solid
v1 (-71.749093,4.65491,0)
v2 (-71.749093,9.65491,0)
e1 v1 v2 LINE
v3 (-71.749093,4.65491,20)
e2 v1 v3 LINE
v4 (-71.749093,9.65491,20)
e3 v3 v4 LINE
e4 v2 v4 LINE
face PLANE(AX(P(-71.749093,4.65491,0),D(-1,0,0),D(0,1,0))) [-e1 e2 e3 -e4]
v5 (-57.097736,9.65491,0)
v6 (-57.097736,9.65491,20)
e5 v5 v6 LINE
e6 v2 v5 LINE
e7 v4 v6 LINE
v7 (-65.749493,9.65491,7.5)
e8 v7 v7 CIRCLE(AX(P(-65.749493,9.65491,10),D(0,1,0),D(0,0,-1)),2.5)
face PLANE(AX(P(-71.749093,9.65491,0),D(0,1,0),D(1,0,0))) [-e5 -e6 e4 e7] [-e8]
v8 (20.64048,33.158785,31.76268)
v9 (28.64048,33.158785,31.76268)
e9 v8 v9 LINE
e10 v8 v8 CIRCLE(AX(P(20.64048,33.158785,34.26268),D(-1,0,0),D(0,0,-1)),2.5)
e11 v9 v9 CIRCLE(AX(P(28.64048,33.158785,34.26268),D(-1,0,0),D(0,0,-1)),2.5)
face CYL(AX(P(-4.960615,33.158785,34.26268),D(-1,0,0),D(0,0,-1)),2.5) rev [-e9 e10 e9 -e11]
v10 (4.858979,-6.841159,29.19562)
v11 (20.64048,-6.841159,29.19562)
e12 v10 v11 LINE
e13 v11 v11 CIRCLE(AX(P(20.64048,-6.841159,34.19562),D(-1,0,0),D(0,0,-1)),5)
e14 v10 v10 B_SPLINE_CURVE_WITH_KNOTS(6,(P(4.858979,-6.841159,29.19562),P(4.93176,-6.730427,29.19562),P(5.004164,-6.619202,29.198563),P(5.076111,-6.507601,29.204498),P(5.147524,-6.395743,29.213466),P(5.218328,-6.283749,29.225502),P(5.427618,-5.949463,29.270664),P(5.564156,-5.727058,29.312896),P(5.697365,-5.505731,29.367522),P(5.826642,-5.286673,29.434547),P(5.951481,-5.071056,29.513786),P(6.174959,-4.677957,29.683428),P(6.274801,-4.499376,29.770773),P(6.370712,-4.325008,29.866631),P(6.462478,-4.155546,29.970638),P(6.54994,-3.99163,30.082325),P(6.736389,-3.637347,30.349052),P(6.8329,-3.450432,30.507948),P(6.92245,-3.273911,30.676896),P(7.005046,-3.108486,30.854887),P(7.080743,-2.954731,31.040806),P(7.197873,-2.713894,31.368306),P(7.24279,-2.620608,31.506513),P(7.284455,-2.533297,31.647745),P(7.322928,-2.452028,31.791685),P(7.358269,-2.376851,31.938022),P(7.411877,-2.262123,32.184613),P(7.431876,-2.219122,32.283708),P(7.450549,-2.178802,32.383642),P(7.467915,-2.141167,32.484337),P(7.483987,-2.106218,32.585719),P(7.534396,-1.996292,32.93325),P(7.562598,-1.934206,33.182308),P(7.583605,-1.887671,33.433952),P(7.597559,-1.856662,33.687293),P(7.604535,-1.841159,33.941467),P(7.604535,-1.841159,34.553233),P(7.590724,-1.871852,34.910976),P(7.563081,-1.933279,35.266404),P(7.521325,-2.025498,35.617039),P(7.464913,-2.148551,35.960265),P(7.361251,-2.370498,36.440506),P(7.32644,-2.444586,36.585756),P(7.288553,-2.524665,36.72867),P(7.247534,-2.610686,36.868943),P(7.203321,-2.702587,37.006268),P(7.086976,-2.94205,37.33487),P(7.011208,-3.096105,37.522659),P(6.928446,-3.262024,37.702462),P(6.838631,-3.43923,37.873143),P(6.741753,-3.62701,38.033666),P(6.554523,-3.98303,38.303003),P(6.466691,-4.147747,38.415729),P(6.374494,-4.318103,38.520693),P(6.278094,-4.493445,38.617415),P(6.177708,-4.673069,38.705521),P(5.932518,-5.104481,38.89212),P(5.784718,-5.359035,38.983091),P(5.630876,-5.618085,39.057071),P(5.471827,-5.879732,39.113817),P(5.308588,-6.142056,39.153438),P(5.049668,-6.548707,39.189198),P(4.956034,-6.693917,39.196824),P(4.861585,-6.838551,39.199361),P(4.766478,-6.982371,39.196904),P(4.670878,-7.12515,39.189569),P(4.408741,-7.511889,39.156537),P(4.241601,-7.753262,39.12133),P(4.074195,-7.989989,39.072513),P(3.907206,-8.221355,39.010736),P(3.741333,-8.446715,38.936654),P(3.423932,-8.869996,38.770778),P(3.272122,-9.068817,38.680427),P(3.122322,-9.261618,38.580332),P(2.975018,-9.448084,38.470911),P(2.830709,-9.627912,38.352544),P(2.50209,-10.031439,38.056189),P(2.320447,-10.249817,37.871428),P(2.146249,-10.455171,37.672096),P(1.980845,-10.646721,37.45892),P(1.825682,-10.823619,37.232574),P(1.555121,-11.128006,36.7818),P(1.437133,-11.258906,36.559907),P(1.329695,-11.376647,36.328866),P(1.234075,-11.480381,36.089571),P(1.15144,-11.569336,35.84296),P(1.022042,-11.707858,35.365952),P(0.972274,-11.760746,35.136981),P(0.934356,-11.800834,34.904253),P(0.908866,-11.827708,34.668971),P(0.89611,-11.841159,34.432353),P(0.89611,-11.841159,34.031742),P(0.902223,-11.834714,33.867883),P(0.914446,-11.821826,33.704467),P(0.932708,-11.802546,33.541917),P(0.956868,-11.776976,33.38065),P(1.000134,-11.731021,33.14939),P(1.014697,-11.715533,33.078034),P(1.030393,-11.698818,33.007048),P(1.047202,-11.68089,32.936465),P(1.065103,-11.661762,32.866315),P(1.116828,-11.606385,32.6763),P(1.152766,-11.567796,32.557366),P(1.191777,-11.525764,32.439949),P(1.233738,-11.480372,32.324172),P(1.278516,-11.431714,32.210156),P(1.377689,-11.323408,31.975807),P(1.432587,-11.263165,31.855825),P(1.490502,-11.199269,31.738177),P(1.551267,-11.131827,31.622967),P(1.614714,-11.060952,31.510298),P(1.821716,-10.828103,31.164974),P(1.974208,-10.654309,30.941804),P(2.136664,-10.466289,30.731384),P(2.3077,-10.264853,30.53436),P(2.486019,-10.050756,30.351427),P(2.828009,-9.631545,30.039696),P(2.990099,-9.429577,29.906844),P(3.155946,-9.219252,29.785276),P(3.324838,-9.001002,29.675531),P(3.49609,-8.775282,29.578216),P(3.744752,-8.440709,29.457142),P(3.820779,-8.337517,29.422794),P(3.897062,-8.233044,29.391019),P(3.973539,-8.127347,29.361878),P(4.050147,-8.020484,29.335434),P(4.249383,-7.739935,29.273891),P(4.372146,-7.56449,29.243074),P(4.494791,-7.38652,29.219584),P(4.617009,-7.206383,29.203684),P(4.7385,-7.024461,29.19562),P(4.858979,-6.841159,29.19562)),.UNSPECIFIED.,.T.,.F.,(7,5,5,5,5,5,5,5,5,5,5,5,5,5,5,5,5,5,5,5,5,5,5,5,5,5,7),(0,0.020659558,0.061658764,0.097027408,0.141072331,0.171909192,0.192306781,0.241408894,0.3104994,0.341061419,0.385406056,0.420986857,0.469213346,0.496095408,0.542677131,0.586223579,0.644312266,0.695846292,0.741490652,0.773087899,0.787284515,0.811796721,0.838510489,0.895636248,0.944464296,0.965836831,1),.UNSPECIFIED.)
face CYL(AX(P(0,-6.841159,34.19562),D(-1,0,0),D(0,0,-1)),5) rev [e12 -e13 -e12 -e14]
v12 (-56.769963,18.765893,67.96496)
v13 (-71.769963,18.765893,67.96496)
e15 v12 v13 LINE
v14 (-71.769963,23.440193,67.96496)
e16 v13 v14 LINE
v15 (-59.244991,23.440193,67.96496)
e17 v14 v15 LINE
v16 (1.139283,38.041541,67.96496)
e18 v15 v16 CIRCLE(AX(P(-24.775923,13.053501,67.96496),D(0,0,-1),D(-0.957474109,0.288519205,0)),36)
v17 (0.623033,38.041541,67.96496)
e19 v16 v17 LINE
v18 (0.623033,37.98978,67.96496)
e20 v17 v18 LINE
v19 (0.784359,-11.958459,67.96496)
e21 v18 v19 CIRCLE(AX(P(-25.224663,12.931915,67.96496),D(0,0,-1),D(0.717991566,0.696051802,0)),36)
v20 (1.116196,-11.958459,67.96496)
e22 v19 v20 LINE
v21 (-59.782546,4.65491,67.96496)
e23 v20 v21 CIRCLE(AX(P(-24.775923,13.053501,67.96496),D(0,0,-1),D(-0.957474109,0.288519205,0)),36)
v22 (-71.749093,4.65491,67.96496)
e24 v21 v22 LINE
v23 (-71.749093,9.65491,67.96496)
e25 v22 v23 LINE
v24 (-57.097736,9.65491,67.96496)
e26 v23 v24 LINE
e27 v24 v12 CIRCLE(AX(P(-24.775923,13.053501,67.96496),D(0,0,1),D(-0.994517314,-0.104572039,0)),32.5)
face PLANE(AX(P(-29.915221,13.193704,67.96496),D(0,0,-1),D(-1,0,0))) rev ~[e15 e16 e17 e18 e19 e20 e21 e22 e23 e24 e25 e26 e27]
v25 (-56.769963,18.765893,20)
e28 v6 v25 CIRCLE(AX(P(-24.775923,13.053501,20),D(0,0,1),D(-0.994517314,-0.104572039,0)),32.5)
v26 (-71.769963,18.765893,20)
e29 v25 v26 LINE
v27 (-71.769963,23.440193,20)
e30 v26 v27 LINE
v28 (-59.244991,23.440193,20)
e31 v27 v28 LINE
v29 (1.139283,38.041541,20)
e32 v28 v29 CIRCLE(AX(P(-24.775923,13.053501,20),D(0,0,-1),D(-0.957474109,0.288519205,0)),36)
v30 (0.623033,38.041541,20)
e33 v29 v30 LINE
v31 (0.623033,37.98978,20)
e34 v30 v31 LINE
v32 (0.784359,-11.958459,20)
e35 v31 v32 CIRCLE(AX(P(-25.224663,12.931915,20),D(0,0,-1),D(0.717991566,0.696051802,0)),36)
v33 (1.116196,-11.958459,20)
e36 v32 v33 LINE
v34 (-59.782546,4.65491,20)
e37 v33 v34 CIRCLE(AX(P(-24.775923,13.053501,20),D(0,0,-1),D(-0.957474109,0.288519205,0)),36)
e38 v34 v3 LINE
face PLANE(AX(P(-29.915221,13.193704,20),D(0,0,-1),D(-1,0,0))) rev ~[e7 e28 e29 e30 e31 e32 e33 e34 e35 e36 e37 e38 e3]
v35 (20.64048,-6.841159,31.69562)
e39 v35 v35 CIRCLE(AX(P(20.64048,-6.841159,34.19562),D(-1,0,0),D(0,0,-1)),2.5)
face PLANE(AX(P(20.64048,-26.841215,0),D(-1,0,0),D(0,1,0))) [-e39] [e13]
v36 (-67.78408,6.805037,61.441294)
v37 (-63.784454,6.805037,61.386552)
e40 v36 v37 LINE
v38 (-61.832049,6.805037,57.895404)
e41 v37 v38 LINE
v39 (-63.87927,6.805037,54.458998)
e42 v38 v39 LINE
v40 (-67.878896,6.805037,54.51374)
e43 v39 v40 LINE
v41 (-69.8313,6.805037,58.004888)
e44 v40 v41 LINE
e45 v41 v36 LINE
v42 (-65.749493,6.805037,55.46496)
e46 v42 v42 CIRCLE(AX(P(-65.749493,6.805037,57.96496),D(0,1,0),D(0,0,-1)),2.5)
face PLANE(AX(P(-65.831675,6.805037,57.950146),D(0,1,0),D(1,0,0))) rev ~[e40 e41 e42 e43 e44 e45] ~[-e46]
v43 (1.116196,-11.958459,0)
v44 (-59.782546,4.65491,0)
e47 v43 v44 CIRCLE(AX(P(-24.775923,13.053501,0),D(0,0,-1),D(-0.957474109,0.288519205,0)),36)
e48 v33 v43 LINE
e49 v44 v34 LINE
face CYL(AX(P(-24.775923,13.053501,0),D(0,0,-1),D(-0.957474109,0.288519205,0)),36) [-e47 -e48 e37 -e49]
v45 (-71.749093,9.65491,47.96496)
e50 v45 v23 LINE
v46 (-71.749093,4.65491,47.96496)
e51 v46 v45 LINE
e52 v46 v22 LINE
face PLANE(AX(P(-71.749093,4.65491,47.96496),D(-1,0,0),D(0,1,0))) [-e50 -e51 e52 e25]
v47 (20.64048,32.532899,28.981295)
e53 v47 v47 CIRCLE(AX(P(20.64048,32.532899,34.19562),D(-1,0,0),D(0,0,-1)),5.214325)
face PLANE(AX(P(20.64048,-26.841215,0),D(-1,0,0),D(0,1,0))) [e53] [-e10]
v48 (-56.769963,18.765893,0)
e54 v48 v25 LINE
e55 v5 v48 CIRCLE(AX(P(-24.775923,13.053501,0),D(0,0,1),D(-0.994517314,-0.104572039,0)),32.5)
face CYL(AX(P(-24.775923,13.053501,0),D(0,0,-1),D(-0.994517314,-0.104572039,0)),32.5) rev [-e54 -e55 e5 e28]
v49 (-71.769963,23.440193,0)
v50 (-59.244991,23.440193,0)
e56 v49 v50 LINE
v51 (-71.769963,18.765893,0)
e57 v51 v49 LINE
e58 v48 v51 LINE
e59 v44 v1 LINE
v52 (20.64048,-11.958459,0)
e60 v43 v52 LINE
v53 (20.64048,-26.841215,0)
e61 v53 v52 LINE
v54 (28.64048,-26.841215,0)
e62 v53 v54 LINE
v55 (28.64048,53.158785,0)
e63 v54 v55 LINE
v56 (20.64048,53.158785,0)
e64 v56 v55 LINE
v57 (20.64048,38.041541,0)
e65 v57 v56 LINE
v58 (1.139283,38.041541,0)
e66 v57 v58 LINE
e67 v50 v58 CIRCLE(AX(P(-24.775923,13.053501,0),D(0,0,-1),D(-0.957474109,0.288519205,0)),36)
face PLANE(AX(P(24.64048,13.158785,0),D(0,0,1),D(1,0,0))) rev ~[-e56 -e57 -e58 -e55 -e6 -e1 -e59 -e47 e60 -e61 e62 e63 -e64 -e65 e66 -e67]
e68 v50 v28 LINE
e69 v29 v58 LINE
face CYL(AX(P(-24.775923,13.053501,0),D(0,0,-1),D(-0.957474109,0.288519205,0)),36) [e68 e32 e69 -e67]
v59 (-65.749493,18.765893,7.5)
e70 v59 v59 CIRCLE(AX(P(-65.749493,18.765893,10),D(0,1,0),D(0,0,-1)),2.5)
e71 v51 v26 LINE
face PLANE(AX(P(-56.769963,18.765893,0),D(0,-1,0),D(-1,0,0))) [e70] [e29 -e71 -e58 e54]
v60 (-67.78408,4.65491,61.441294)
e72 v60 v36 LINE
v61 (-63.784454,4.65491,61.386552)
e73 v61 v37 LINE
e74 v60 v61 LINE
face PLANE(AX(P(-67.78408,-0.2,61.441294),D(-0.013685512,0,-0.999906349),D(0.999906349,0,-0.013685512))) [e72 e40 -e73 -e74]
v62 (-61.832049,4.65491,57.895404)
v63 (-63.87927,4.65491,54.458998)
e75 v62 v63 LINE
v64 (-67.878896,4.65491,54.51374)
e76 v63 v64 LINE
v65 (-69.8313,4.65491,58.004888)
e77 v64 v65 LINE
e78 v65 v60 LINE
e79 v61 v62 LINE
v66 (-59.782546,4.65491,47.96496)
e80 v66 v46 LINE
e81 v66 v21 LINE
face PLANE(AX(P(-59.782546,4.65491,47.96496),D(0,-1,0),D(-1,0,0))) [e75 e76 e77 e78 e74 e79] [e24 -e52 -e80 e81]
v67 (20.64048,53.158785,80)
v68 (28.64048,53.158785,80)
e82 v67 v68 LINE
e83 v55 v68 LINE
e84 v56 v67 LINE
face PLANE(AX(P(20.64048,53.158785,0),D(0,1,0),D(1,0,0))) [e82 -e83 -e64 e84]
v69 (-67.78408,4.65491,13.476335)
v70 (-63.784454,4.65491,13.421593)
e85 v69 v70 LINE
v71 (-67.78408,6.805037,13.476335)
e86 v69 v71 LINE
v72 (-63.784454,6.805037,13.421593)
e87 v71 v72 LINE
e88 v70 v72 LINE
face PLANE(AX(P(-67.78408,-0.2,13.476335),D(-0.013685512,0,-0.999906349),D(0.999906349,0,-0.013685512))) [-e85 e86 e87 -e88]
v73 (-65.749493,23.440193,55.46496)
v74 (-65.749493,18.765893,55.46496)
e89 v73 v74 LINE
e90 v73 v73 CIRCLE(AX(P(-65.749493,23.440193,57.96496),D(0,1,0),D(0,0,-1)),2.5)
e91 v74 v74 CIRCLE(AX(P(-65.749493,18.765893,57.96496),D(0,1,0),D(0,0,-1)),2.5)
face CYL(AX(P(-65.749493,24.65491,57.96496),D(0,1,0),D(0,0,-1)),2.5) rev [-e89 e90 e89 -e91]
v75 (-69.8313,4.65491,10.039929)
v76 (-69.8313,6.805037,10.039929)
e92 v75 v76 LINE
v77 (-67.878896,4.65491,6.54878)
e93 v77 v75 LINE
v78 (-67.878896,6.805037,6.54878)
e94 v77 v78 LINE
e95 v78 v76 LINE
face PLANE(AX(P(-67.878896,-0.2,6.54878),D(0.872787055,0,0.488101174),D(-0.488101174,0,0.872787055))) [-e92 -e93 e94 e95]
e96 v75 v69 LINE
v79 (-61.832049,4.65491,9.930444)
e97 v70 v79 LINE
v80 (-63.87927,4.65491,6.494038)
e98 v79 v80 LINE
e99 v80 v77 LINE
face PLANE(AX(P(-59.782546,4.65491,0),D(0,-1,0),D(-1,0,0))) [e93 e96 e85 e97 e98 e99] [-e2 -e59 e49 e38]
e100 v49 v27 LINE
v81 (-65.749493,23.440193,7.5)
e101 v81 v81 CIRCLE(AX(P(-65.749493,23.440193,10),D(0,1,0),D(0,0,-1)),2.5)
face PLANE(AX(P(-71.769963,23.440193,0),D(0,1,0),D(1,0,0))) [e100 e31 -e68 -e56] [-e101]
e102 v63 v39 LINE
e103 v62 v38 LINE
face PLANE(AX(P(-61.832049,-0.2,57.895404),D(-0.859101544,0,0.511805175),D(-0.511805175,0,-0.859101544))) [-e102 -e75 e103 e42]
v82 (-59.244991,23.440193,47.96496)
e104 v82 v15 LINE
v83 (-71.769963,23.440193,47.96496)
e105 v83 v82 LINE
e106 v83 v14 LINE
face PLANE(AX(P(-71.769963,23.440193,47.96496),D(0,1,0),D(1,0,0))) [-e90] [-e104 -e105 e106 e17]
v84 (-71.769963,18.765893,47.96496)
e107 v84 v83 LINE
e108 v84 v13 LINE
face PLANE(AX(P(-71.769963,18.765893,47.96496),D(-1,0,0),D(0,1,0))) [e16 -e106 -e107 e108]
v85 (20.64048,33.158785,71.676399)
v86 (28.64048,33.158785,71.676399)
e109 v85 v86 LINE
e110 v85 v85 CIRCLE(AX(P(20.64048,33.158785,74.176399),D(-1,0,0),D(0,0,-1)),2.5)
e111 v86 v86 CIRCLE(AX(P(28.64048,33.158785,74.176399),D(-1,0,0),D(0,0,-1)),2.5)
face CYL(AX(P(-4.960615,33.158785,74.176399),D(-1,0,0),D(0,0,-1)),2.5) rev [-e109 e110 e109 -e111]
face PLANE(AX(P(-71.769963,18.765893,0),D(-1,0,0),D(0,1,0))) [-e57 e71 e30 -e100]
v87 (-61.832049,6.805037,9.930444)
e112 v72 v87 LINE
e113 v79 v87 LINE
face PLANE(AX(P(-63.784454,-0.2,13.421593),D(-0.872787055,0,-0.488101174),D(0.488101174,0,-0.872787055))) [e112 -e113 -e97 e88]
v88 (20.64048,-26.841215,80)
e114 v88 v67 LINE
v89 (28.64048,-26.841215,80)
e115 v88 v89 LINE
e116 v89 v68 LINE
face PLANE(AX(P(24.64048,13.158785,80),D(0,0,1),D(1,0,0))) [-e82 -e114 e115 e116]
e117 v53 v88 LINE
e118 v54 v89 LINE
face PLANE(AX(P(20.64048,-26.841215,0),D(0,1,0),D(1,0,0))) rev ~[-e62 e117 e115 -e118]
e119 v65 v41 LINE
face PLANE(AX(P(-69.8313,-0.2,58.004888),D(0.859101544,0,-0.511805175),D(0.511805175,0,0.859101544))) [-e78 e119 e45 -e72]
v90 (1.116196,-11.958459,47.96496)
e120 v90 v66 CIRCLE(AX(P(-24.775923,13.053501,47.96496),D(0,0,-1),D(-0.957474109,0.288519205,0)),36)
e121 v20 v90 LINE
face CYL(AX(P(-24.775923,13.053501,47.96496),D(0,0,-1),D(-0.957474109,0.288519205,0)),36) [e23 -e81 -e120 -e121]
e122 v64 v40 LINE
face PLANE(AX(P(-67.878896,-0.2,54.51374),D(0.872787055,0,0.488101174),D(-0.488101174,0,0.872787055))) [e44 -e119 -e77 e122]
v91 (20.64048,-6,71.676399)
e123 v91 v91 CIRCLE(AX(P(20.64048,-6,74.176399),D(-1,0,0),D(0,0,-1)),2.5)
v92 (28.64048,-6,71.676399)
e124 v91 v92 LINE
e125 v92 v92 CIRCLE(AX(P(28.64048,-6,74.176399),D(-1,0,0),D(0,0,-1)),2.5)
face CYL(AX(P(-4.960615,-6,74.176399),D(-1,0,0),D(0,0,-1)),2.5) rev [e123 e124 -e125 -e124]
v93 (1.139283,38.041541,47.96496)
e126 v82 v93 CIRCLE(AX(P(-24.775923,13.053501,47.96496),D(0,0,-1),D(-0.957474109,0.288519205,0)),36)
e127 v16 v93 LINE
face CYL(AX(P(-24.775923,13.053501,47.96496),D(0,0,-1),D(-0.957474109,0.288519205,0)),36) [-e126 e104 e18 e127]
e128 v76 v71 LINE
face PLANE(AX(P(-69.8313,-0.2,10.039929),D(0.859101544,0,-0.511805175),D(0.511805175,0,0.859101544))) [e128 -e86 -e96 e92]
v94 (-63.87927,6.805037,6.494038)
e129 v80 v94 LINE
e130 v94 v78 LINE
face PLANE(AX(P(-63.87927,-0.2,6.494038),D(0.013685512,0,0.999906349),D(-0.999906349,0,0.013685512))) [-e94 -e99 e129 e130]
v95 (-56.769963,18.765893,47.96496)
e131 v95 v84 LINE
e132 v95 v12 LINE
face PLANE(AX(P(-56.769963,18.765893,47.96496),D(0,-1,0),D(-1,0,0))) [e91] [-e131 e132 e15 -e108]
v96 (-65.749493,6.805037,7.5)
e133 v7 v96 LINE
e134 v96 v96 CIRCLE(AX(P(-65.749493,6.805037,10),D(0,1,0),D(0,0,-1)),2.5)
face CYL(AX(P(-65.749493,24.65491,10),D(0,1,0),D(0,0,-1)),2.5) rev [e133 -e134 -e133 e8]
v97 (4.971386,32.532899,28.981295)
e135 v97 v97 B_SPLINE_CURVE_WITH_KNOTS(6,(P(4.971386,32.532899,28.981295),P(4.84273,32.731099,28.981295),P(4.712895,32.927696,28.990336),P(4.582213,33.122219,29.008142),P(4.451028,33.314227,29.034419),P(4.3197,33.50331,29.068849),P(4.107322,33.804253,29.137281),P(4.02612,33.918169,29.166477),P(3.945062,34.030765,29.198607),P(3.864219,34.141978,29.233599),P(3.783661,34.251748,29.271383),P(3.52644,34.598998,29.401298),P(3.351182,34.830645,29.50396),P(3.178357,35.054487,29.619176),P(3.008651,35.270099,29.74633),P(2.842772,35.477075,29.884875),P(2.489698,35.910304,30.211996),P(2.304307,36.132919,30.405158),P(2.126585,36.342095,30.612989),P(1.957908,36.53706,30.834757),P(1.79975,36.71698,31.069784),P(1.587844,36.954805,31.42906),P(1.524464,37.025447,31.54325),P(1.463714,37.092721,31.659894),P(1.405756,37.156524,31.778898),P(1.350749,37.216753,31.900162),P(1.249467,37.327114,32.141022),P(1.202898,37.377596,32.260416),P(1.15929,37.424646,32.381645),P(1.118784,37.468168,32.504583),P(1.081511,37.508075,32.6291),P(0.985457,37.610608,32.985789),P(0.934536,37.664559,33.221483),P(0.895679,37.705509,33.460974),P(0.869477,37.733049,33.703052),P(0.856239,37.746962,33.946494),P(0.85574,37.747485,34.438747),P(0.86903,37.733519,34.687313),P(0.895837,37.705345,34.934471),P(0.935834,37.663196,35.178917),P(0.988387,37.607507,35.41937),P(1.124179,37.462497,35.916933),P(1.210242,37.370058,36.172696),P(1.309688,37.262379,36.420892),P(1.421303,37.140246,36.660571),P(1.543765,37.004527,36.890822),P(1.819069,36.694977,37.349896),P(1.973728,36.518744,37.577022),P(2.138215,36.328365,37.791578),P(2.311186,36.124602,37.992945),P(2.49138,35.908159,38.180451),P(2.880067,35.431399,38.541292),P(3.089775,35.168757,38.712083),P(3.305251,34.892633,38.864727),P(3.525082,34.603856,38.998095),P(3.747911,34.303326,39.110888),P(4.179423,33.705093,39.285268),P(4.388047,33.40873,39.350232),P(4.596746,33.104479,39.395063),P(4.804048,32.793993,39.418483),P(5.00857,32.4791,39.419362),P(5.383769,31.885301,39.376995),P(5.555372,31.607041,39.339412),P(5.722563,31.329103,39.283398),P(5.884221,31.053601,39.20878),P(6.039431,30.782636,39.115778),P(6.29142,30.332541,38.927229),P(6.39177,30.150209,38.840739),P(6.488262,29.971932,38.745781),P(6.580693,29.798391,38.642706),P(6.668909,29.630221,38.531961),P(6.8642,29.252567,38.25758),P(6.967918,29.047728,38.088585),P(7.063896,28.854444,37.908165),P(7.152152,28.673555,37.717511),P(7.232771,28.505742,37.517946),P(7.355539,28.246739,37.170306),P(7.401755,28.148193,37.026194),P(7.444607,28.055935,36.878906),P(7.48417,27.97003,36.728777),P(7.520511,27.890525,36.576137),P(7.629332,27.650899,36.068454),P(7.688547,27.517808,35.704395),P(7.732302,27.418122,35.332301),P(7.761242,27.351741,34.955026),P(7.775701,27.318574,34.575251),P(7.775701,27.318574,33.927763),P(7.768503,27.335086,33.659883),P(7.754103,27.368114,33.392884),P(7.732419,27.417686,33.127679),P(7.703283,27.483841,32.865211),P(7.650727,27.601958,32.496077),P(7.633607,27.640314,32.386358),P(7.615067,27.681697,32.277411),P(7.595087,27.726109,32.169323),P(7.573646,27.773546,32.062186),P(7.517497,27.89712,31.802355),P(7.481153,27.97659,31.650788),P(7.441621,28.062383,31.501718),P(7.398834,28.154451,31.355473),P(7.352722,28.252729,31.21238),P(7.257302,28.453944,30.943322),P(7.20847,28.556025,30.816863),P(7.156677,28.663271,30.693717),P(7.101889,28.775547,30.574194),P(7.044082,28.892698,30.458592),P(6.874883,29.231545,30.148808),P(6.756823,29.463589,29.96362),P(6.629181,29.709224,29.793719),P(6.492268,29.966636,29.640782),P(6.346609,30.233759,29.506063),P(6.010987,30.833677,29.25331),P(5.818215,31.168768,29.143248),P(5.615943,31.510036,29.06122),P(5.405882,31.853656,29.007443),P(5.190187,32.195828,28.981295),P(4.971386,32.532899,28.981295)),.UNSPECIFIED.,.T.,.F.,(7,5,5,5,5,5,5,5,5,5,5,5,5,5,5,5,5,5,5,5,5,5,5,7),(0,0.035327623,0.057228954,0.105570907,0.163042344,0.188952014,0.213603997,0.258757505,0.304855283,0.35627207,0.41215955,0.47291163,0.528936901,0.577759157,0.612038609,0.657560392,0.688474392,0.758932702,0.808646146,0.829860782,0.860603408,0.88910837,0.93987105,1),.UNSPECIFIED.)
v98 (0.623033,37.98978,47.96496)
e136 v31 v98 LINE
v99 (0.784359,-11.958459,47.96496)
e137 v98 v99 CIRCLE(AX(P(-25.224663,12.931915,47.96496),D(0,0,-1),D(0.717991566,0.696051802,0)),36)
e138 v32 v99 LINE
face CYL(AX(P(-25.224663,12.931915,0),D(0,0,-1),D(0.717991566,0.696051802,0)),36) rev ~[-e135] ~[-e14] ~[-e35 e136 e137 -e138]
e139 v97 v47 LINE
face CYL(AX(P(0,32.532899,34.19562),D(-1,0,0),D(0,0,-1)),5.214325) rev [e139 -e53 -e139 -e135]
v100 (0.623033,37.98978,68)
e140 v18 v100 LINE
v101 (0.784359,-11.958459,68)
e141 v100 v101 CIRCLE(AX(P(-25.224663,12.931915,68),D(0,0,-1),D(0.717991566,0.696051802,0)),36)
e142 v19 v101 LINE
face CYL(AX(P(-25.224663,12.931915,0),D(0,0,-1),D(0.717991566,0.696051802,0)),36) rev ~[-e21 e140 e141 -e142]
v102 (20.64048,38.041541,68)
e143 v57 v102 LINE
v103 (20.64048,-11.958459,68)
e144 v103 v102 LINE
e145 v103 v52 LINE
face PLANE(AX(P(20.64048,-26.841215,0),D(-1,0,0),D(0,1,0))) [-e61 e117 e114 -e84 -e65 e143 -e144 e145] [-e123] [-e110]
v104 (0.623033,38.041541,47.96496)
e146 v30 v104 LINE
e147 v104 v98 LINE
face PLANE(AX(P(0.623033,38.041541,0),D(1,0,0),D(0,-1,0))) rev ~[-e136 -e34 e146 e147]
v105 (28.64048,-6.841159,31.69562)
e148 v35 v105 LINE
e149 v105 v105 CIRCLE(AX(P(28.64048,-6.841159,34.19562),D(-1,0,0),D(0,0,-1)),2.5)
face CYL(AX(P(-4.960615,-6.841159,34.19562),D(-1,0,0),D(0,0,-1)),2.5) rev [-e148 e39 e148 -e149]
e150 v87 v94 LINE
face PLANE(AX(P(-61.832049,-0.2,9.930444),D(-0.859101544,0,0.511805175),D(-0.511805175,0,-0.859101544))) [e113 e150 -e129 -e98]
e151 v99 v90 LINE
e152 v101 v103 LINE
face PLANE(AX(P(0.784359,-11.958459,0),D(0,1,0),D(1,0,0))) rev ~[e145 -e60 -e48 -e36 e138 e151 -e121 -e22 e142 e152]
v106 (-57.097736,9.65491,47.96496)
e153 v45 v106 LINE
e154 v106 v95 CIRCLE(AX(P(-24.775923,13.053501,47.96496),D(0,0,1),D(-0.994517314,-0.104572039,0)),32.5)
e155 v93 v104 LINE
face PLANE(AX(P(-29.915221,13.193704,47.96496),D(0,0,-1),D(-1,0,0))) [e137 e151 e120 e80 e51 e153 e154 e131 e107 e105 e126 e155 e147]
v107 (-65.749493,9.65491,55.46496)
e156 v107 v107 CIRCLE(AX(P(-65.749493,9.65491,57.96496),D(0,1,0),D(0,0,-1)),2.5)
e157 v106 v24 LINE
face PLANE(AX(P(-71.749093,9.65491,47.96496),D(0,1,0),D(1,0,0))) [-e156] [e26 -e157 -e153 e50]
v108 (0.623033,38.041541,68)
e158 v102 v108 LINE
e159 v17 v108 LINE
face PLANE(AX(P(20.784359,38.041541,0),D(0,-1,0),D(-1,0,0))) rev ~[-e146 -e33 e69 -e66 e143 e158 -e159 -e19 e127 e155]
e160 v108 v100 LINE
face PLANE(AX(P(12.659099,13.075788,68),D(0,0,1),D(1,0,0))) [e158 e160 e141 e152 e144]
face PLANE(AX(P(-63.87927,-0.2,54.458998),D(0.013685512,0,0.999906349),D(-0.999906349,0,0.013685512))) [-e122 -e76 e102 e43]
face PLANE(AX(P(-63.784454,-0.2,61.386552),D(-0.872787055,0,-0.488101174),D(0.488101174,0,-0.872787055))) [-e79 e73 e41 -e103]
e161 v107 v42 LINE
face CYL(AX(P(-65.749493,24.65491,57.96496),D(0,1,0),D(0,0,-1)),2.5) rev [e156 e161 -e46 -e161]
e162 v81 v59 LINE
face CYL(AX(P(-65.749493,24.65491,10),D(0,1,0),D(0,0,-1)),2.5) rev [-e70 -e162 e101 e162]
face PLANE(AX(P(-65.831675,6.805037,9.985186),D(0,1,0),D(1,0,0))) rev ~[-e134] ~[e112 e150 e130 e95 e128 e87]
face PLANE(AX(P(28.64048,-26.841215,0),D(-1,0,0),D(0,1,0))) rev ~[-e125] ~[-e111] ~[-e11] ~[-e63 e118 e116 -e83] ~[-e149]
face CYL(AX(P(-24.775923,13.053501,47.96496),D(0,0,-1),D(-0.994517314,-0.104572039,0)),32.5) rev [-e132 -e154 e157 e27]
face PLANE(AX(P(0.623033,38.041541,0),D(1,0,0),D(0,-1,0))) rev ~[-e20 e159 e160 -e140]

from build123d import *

# Parameters (mm, degrees)
BOSS_EXTRU_2_DEPTH         = 20
BOSS_EXTRU_4_DEPTH         = 2.2401
BOSS_EXTRU_4_DEPTH_BACK    = 20
ESQUISSE3_R                = 2.5
BOSS_EXTRU_7_DEPTH         = 6.805036811
BOSS_EXTRU_7_DEPTH_BACK    = 0.2
ESQUISSE13_W               = 8
ESQUISSE13_H               = 80
BOSS_EXTRU_9_DEPTH         = 80
BOSS_EXTRU_11_DEPTH        = 40
BOSS_EXTRU_11_DEPTH_BACK   = 3.5598
ESQUISSE16_R               = 2.5
BOSS_EXTRU_11_2_DEPTH      = 40
BOSS_EXTRU_11_2_DEPTH_BACK = 3.5598
BOSS_EXTRU_11_3_DEPTH      = 40
BOSS_EXTRU_11_3_DEPTH_BACK = 3.5598
BOSS_EXTRU_11_4_DEPTH      = 40
BOSS_EXTRU_11_4_DEPTH_BACK = 3.5598
BOSS_EXTRU_12_DEPTH        = 68
ESQUISSE19_R               = 5.214324904
BOSS_EXTRU_15_DEPTH        = 21.55
ESQUISSE19_R_2             = 5
BOSS_EXTRU_15_2_DEPTH      = 21.55


with BuildPart() as part:
    # Esquisse1 → Boss.-Extru.2 (new body)
    with BuildSketch(Plane.XY):
        with BuildLine():
            Line((-71.273833315, 9.654910047), (-56.622475708, 9.654910047))
            ThreePointArc((-56.622475708, 9.654910047), (8.178325953, 11.885050452), (-56.29470269, 18.765893404))
            Line((-56.29470269, 18.765893404), (-71.29470269, 18.765893404))
            Line((-71.29470269, 18.765893404), (-71.29470269, 23.440192667))
            Line((-71.29470269, 23.440192667), (-58.769730896, 23.440192667))
            ThreePointArc((-58.769730896, 23.440192667), (11.684606541, 12.02375525), (-59.307286147, 4.654910047))
            Line((-59.307286147, 4.654910047), (-71.273833315, 4.654910047))
            Line((-71.273833315, 4.654910047), (-71.273833315, 9.654910047))
        make_face()
    extrude(amount=BOSS_EXTRU_2_DEPTH)


with BuildPart() as body_2:
    # Esquisse3 → Boss.-Extru.4 (new, two sides: drawn at the far end of the back side and taken through both)
    with BuildSketch(Plane(origin=(11.50882306, 4.654910047, -20.756809104), x_dir=(-1, 0, 0), z_dir=(0, -1, 0)).offset(-BOSS_EXTRU_4_DEPTH_BACK)):
        with Locations(Location((76.783055813, -30.756809104, 0), (0, 0, 90))):
            Circle(ESQUISSE3_R)
    extrude(amount=BOSS_EXTRU_4_DEPTH + BOSS_EXTRU_4_DEPTH_BACK)


with BuildPart() as body_3:
    # Esquisse8 → Boss.-Extru.7 (new, two sides: drawn at the far end of the back side and taken through both)
    with BuildSketch(Plane(origin=(38.166060495, 0, 0), x_dir=(1, 0, 0), z_dir=(0, 1, 0)).offset(-BOSS_EXTRU_7_DEPTH_BACK)):
        Polygon((-101.475254656, -13.421592672), (-99.52284996, -9.930444451), (-101.570070661, -6.494038275), (-105.569696057, -6.548780321), (-107.522100752, -10.039928543), (-105.474880052, -13.476334718), align=None)
    extrude(amount=BOSS_EXTRU_7_DEPTH + BOSS_EXTRU_7_DEPTH_BACK)


with BuildPart() as part_1:
    add(part.part)

    # Combiner2: cut body 2, body 3
    add(body_2.part, mode=Mode.SUBTRACT)
    add(body_3.part, mode=Mode.SUBTRACT)


with BuildPart() as body_2_2:
    # Corps-Déplacer/Copier2: copy of part
    add(part_1.part.moved(Location((0, 0, 72.964959744))))


with BuildPart() as body_3_2:
    # Esquisse13 → Boss.-Extru.9 (new body)
    with BuildSketch(Plane.XY):
        with Locations((26.041295444, 19.15878473)):
            Rectangle(ESQUISSE13_W, ESQUISSE13_H)
    extrude(amount=BOSS_EXTRU_9_DEPTH)


with BuildPart() as body_2_2_1:
    # Corps-Déplacer/Copier3: moved
    add(body_2_2.part.moved(Location((0, 0, -25))))


with BuildPart() as body_4:
    # Esquisse16 → Boss.-Extru.11 (new, two sides: drawn at the far end of the back side and taken through both)
    with BuildSketch(Plane(origin=(0, 0, 0), x_dir=(0, 0, -1), z_dir=(1, 0, 0)).offset(-BOSS_EXTRU_11_DEPTH_BACK)):
        with Locations((-34.262679566, 39.15878473)):
            Circle(ESQUISSE16_R)
    extrude(amount=BOSS_EXTRU_11_DEPTH + BOSS_EXTRU_11_DEPTH_BACK)


with BuildPart() as body_5:
    # Esquisse16 → Boss.-Extru.11 2 (new, two sides: drawn at the far end of the back side and taken through both)
    with BuildSketch(Plane(origin=(0, 0, 0), x_dir=(0, 0, -1), z_dir=(1, 0, 0)).offset(-BOSS_EXTRU_11_2_DEPTH_BACK)):
        with Locations((-34.195620058, -0.841159058)):
            Circle(ESQUISSE16_R)
    extrude(amount=BOSS_EXTRU_11_2_DEPTH + BOSS_EXTRU_11_2_DEPTH_BACK)


with BuildPart() as body_6:
    # Esquisse16 → Boss.-Extru.11 3 (new, two sides: drawn at the far end of the back side and taken through both)
    with BuildSketch(Plane(origin=(0, 0, 0), x_dir=(0, 0, -1), z_dir=(1, 0, 0)).offset(-BOSS_EXTRU_11_3_DEPTH_BACK)):
        with Locations((-74.176398553, 0)):
            Circle(ESQUISSE16_R)
    extrude(amount=BOSS_EXTRU_11_3_DEPTH + BOSS_EXTRU_11_3_DEPTH_BACK)


with BuildPart() as body_7:
    # Esquisse16 → Boss.-Extru.11 4 (new, two sides: drawn at the far end of the back side and taken through both)
    with BuildSketch(Plane(origin=(0, 0, 0), x_dir=(0, 0, -1), z_dir=(1, 0, 0)).offset(-BOSS_EXTRU_11_4_DEPTH_BACK)):
        with Locations((-74.176398553, 39.15878473)):
            Circle(ESQUISSE16_R)
    extrude(amount=BOSS_EXTRU_11_4_DEPTH + BOSS_EXTRU_11_4_DEPTH_BACK)


with BuildPart() as body_3_2_1:
    add(body_3_2.part)

    # Combiner3: cut body 7, body 4, body 6, body 5
    add(body_7.part, mode=Mode.SUBTRACT)
    add(body_4.part, mode=Mode.SUBTRACT)
    add(body_6.part, mode=Mode.SUBTRACT)
    add(body_5.part, mode=Mode.SUBTRACT)


with BuildPart() as part_2:
    add(part_1.part)

    add(body_2_2_1.part)  # Boss.-Extru.12 merges body 2 2
    # Esquisse17 → Boss.-Extru.12 (add)
    with BuildSketch(Plane.XY):
        with BuildLine():
            Line((21.259619395, 38.041540738), (1.098292972, 38.041540738))
            Line((1.098292972, 38.041540738), (1.098292972, 37.989779899))
            ThreePointArc((1.098292972, 37.989779899), (11.250408812, 13.048189822), (1.259619395, -11.958459262))
            Line((1.259619395, -11.958459262), (21.259619395, -11.958459262))
            Line((21.259619395, -11.958459262), (21.259619395, 38.041540738))
        make_face()
    extrude(amount=BOSS_EXTRU_12_DEPTH)


with BuildPart() as body_3_2_2:
    # Corps-Déplacer/Copier4: moved
    add(body_3_2_1.part.moved(Location((0, -10, 0))))


with BuildPart() as body_3_2_3:
    # Corps-Déplacer/Copier5: moved
    add(body_3_2_2.part.moved(Location((0, 5, 0))))


with BuildPart() as body_3_2_4:
    # Corps-Déplacer/Copier6: moved
    add(body_3_2_3.part.moved(Location((0, -1, 0))))


with BuildPart() as body_3_2_5:
    # Corps-Déplacer/Copier7: moved
    add(body_3_2_4.part.moved(Location((57.599184588, 0, 0))))


with BuildPart() as part_3:
    # Corps-Déplacer/Copier8: moved
    add(part_2.part.moved(Location((-92, 0, 0))))


with BuildPart() as body_3_3:
    # Esquisse19 → Boss.-Extru.15 (new body)
    with BuildSketch(Plane(origin=(0, 0, 0), x_dir=(0, 0, -1), z_dir=(1, 0, 0))):
        with Locations((-34.195620058, 32.532899017)):
            Circle(ESQUISSE19_R)
    extrude(amount=BOSS_EXTRU_15_DEPTH)


with BuildPart() as body_4_2:
    # Esquisse19 → Boss.-Extru.15 2 (new body)
    with BuildSketch(Plane(origin=(0, 0, 0), x_dir=(0, 0, -1), z_dir=(1, 0, 0))):
        with Locations((-34.195620058, -6.841159058)):
            Circle(ESQUISSE19_R_2)
    extrude(amount=BOSS_EXTRU_15_2_DEPTH)


with BuildPart() as part_4:
    # Corps-Déplacer/Copier9: moved
    add(part_3.part.moved(Location((91.524740037, 0, 0))))

    # Combiner6: cut body 3 3, body 4 2
    add(body_3_3.part, mode=Mode.SUBTRACT)
    add(body_4_2.part, mode=Mode.SUBTRACT)


with BuildPart() as body_3_2_6:
    # Corps-Déplacer/Copier12: moved
    add(body_3_2_5.part.moved(Location((-59, 0, 0))))

    # Combiner7: union part
    add(part_4.part)


solid = body_3_2_6.part
